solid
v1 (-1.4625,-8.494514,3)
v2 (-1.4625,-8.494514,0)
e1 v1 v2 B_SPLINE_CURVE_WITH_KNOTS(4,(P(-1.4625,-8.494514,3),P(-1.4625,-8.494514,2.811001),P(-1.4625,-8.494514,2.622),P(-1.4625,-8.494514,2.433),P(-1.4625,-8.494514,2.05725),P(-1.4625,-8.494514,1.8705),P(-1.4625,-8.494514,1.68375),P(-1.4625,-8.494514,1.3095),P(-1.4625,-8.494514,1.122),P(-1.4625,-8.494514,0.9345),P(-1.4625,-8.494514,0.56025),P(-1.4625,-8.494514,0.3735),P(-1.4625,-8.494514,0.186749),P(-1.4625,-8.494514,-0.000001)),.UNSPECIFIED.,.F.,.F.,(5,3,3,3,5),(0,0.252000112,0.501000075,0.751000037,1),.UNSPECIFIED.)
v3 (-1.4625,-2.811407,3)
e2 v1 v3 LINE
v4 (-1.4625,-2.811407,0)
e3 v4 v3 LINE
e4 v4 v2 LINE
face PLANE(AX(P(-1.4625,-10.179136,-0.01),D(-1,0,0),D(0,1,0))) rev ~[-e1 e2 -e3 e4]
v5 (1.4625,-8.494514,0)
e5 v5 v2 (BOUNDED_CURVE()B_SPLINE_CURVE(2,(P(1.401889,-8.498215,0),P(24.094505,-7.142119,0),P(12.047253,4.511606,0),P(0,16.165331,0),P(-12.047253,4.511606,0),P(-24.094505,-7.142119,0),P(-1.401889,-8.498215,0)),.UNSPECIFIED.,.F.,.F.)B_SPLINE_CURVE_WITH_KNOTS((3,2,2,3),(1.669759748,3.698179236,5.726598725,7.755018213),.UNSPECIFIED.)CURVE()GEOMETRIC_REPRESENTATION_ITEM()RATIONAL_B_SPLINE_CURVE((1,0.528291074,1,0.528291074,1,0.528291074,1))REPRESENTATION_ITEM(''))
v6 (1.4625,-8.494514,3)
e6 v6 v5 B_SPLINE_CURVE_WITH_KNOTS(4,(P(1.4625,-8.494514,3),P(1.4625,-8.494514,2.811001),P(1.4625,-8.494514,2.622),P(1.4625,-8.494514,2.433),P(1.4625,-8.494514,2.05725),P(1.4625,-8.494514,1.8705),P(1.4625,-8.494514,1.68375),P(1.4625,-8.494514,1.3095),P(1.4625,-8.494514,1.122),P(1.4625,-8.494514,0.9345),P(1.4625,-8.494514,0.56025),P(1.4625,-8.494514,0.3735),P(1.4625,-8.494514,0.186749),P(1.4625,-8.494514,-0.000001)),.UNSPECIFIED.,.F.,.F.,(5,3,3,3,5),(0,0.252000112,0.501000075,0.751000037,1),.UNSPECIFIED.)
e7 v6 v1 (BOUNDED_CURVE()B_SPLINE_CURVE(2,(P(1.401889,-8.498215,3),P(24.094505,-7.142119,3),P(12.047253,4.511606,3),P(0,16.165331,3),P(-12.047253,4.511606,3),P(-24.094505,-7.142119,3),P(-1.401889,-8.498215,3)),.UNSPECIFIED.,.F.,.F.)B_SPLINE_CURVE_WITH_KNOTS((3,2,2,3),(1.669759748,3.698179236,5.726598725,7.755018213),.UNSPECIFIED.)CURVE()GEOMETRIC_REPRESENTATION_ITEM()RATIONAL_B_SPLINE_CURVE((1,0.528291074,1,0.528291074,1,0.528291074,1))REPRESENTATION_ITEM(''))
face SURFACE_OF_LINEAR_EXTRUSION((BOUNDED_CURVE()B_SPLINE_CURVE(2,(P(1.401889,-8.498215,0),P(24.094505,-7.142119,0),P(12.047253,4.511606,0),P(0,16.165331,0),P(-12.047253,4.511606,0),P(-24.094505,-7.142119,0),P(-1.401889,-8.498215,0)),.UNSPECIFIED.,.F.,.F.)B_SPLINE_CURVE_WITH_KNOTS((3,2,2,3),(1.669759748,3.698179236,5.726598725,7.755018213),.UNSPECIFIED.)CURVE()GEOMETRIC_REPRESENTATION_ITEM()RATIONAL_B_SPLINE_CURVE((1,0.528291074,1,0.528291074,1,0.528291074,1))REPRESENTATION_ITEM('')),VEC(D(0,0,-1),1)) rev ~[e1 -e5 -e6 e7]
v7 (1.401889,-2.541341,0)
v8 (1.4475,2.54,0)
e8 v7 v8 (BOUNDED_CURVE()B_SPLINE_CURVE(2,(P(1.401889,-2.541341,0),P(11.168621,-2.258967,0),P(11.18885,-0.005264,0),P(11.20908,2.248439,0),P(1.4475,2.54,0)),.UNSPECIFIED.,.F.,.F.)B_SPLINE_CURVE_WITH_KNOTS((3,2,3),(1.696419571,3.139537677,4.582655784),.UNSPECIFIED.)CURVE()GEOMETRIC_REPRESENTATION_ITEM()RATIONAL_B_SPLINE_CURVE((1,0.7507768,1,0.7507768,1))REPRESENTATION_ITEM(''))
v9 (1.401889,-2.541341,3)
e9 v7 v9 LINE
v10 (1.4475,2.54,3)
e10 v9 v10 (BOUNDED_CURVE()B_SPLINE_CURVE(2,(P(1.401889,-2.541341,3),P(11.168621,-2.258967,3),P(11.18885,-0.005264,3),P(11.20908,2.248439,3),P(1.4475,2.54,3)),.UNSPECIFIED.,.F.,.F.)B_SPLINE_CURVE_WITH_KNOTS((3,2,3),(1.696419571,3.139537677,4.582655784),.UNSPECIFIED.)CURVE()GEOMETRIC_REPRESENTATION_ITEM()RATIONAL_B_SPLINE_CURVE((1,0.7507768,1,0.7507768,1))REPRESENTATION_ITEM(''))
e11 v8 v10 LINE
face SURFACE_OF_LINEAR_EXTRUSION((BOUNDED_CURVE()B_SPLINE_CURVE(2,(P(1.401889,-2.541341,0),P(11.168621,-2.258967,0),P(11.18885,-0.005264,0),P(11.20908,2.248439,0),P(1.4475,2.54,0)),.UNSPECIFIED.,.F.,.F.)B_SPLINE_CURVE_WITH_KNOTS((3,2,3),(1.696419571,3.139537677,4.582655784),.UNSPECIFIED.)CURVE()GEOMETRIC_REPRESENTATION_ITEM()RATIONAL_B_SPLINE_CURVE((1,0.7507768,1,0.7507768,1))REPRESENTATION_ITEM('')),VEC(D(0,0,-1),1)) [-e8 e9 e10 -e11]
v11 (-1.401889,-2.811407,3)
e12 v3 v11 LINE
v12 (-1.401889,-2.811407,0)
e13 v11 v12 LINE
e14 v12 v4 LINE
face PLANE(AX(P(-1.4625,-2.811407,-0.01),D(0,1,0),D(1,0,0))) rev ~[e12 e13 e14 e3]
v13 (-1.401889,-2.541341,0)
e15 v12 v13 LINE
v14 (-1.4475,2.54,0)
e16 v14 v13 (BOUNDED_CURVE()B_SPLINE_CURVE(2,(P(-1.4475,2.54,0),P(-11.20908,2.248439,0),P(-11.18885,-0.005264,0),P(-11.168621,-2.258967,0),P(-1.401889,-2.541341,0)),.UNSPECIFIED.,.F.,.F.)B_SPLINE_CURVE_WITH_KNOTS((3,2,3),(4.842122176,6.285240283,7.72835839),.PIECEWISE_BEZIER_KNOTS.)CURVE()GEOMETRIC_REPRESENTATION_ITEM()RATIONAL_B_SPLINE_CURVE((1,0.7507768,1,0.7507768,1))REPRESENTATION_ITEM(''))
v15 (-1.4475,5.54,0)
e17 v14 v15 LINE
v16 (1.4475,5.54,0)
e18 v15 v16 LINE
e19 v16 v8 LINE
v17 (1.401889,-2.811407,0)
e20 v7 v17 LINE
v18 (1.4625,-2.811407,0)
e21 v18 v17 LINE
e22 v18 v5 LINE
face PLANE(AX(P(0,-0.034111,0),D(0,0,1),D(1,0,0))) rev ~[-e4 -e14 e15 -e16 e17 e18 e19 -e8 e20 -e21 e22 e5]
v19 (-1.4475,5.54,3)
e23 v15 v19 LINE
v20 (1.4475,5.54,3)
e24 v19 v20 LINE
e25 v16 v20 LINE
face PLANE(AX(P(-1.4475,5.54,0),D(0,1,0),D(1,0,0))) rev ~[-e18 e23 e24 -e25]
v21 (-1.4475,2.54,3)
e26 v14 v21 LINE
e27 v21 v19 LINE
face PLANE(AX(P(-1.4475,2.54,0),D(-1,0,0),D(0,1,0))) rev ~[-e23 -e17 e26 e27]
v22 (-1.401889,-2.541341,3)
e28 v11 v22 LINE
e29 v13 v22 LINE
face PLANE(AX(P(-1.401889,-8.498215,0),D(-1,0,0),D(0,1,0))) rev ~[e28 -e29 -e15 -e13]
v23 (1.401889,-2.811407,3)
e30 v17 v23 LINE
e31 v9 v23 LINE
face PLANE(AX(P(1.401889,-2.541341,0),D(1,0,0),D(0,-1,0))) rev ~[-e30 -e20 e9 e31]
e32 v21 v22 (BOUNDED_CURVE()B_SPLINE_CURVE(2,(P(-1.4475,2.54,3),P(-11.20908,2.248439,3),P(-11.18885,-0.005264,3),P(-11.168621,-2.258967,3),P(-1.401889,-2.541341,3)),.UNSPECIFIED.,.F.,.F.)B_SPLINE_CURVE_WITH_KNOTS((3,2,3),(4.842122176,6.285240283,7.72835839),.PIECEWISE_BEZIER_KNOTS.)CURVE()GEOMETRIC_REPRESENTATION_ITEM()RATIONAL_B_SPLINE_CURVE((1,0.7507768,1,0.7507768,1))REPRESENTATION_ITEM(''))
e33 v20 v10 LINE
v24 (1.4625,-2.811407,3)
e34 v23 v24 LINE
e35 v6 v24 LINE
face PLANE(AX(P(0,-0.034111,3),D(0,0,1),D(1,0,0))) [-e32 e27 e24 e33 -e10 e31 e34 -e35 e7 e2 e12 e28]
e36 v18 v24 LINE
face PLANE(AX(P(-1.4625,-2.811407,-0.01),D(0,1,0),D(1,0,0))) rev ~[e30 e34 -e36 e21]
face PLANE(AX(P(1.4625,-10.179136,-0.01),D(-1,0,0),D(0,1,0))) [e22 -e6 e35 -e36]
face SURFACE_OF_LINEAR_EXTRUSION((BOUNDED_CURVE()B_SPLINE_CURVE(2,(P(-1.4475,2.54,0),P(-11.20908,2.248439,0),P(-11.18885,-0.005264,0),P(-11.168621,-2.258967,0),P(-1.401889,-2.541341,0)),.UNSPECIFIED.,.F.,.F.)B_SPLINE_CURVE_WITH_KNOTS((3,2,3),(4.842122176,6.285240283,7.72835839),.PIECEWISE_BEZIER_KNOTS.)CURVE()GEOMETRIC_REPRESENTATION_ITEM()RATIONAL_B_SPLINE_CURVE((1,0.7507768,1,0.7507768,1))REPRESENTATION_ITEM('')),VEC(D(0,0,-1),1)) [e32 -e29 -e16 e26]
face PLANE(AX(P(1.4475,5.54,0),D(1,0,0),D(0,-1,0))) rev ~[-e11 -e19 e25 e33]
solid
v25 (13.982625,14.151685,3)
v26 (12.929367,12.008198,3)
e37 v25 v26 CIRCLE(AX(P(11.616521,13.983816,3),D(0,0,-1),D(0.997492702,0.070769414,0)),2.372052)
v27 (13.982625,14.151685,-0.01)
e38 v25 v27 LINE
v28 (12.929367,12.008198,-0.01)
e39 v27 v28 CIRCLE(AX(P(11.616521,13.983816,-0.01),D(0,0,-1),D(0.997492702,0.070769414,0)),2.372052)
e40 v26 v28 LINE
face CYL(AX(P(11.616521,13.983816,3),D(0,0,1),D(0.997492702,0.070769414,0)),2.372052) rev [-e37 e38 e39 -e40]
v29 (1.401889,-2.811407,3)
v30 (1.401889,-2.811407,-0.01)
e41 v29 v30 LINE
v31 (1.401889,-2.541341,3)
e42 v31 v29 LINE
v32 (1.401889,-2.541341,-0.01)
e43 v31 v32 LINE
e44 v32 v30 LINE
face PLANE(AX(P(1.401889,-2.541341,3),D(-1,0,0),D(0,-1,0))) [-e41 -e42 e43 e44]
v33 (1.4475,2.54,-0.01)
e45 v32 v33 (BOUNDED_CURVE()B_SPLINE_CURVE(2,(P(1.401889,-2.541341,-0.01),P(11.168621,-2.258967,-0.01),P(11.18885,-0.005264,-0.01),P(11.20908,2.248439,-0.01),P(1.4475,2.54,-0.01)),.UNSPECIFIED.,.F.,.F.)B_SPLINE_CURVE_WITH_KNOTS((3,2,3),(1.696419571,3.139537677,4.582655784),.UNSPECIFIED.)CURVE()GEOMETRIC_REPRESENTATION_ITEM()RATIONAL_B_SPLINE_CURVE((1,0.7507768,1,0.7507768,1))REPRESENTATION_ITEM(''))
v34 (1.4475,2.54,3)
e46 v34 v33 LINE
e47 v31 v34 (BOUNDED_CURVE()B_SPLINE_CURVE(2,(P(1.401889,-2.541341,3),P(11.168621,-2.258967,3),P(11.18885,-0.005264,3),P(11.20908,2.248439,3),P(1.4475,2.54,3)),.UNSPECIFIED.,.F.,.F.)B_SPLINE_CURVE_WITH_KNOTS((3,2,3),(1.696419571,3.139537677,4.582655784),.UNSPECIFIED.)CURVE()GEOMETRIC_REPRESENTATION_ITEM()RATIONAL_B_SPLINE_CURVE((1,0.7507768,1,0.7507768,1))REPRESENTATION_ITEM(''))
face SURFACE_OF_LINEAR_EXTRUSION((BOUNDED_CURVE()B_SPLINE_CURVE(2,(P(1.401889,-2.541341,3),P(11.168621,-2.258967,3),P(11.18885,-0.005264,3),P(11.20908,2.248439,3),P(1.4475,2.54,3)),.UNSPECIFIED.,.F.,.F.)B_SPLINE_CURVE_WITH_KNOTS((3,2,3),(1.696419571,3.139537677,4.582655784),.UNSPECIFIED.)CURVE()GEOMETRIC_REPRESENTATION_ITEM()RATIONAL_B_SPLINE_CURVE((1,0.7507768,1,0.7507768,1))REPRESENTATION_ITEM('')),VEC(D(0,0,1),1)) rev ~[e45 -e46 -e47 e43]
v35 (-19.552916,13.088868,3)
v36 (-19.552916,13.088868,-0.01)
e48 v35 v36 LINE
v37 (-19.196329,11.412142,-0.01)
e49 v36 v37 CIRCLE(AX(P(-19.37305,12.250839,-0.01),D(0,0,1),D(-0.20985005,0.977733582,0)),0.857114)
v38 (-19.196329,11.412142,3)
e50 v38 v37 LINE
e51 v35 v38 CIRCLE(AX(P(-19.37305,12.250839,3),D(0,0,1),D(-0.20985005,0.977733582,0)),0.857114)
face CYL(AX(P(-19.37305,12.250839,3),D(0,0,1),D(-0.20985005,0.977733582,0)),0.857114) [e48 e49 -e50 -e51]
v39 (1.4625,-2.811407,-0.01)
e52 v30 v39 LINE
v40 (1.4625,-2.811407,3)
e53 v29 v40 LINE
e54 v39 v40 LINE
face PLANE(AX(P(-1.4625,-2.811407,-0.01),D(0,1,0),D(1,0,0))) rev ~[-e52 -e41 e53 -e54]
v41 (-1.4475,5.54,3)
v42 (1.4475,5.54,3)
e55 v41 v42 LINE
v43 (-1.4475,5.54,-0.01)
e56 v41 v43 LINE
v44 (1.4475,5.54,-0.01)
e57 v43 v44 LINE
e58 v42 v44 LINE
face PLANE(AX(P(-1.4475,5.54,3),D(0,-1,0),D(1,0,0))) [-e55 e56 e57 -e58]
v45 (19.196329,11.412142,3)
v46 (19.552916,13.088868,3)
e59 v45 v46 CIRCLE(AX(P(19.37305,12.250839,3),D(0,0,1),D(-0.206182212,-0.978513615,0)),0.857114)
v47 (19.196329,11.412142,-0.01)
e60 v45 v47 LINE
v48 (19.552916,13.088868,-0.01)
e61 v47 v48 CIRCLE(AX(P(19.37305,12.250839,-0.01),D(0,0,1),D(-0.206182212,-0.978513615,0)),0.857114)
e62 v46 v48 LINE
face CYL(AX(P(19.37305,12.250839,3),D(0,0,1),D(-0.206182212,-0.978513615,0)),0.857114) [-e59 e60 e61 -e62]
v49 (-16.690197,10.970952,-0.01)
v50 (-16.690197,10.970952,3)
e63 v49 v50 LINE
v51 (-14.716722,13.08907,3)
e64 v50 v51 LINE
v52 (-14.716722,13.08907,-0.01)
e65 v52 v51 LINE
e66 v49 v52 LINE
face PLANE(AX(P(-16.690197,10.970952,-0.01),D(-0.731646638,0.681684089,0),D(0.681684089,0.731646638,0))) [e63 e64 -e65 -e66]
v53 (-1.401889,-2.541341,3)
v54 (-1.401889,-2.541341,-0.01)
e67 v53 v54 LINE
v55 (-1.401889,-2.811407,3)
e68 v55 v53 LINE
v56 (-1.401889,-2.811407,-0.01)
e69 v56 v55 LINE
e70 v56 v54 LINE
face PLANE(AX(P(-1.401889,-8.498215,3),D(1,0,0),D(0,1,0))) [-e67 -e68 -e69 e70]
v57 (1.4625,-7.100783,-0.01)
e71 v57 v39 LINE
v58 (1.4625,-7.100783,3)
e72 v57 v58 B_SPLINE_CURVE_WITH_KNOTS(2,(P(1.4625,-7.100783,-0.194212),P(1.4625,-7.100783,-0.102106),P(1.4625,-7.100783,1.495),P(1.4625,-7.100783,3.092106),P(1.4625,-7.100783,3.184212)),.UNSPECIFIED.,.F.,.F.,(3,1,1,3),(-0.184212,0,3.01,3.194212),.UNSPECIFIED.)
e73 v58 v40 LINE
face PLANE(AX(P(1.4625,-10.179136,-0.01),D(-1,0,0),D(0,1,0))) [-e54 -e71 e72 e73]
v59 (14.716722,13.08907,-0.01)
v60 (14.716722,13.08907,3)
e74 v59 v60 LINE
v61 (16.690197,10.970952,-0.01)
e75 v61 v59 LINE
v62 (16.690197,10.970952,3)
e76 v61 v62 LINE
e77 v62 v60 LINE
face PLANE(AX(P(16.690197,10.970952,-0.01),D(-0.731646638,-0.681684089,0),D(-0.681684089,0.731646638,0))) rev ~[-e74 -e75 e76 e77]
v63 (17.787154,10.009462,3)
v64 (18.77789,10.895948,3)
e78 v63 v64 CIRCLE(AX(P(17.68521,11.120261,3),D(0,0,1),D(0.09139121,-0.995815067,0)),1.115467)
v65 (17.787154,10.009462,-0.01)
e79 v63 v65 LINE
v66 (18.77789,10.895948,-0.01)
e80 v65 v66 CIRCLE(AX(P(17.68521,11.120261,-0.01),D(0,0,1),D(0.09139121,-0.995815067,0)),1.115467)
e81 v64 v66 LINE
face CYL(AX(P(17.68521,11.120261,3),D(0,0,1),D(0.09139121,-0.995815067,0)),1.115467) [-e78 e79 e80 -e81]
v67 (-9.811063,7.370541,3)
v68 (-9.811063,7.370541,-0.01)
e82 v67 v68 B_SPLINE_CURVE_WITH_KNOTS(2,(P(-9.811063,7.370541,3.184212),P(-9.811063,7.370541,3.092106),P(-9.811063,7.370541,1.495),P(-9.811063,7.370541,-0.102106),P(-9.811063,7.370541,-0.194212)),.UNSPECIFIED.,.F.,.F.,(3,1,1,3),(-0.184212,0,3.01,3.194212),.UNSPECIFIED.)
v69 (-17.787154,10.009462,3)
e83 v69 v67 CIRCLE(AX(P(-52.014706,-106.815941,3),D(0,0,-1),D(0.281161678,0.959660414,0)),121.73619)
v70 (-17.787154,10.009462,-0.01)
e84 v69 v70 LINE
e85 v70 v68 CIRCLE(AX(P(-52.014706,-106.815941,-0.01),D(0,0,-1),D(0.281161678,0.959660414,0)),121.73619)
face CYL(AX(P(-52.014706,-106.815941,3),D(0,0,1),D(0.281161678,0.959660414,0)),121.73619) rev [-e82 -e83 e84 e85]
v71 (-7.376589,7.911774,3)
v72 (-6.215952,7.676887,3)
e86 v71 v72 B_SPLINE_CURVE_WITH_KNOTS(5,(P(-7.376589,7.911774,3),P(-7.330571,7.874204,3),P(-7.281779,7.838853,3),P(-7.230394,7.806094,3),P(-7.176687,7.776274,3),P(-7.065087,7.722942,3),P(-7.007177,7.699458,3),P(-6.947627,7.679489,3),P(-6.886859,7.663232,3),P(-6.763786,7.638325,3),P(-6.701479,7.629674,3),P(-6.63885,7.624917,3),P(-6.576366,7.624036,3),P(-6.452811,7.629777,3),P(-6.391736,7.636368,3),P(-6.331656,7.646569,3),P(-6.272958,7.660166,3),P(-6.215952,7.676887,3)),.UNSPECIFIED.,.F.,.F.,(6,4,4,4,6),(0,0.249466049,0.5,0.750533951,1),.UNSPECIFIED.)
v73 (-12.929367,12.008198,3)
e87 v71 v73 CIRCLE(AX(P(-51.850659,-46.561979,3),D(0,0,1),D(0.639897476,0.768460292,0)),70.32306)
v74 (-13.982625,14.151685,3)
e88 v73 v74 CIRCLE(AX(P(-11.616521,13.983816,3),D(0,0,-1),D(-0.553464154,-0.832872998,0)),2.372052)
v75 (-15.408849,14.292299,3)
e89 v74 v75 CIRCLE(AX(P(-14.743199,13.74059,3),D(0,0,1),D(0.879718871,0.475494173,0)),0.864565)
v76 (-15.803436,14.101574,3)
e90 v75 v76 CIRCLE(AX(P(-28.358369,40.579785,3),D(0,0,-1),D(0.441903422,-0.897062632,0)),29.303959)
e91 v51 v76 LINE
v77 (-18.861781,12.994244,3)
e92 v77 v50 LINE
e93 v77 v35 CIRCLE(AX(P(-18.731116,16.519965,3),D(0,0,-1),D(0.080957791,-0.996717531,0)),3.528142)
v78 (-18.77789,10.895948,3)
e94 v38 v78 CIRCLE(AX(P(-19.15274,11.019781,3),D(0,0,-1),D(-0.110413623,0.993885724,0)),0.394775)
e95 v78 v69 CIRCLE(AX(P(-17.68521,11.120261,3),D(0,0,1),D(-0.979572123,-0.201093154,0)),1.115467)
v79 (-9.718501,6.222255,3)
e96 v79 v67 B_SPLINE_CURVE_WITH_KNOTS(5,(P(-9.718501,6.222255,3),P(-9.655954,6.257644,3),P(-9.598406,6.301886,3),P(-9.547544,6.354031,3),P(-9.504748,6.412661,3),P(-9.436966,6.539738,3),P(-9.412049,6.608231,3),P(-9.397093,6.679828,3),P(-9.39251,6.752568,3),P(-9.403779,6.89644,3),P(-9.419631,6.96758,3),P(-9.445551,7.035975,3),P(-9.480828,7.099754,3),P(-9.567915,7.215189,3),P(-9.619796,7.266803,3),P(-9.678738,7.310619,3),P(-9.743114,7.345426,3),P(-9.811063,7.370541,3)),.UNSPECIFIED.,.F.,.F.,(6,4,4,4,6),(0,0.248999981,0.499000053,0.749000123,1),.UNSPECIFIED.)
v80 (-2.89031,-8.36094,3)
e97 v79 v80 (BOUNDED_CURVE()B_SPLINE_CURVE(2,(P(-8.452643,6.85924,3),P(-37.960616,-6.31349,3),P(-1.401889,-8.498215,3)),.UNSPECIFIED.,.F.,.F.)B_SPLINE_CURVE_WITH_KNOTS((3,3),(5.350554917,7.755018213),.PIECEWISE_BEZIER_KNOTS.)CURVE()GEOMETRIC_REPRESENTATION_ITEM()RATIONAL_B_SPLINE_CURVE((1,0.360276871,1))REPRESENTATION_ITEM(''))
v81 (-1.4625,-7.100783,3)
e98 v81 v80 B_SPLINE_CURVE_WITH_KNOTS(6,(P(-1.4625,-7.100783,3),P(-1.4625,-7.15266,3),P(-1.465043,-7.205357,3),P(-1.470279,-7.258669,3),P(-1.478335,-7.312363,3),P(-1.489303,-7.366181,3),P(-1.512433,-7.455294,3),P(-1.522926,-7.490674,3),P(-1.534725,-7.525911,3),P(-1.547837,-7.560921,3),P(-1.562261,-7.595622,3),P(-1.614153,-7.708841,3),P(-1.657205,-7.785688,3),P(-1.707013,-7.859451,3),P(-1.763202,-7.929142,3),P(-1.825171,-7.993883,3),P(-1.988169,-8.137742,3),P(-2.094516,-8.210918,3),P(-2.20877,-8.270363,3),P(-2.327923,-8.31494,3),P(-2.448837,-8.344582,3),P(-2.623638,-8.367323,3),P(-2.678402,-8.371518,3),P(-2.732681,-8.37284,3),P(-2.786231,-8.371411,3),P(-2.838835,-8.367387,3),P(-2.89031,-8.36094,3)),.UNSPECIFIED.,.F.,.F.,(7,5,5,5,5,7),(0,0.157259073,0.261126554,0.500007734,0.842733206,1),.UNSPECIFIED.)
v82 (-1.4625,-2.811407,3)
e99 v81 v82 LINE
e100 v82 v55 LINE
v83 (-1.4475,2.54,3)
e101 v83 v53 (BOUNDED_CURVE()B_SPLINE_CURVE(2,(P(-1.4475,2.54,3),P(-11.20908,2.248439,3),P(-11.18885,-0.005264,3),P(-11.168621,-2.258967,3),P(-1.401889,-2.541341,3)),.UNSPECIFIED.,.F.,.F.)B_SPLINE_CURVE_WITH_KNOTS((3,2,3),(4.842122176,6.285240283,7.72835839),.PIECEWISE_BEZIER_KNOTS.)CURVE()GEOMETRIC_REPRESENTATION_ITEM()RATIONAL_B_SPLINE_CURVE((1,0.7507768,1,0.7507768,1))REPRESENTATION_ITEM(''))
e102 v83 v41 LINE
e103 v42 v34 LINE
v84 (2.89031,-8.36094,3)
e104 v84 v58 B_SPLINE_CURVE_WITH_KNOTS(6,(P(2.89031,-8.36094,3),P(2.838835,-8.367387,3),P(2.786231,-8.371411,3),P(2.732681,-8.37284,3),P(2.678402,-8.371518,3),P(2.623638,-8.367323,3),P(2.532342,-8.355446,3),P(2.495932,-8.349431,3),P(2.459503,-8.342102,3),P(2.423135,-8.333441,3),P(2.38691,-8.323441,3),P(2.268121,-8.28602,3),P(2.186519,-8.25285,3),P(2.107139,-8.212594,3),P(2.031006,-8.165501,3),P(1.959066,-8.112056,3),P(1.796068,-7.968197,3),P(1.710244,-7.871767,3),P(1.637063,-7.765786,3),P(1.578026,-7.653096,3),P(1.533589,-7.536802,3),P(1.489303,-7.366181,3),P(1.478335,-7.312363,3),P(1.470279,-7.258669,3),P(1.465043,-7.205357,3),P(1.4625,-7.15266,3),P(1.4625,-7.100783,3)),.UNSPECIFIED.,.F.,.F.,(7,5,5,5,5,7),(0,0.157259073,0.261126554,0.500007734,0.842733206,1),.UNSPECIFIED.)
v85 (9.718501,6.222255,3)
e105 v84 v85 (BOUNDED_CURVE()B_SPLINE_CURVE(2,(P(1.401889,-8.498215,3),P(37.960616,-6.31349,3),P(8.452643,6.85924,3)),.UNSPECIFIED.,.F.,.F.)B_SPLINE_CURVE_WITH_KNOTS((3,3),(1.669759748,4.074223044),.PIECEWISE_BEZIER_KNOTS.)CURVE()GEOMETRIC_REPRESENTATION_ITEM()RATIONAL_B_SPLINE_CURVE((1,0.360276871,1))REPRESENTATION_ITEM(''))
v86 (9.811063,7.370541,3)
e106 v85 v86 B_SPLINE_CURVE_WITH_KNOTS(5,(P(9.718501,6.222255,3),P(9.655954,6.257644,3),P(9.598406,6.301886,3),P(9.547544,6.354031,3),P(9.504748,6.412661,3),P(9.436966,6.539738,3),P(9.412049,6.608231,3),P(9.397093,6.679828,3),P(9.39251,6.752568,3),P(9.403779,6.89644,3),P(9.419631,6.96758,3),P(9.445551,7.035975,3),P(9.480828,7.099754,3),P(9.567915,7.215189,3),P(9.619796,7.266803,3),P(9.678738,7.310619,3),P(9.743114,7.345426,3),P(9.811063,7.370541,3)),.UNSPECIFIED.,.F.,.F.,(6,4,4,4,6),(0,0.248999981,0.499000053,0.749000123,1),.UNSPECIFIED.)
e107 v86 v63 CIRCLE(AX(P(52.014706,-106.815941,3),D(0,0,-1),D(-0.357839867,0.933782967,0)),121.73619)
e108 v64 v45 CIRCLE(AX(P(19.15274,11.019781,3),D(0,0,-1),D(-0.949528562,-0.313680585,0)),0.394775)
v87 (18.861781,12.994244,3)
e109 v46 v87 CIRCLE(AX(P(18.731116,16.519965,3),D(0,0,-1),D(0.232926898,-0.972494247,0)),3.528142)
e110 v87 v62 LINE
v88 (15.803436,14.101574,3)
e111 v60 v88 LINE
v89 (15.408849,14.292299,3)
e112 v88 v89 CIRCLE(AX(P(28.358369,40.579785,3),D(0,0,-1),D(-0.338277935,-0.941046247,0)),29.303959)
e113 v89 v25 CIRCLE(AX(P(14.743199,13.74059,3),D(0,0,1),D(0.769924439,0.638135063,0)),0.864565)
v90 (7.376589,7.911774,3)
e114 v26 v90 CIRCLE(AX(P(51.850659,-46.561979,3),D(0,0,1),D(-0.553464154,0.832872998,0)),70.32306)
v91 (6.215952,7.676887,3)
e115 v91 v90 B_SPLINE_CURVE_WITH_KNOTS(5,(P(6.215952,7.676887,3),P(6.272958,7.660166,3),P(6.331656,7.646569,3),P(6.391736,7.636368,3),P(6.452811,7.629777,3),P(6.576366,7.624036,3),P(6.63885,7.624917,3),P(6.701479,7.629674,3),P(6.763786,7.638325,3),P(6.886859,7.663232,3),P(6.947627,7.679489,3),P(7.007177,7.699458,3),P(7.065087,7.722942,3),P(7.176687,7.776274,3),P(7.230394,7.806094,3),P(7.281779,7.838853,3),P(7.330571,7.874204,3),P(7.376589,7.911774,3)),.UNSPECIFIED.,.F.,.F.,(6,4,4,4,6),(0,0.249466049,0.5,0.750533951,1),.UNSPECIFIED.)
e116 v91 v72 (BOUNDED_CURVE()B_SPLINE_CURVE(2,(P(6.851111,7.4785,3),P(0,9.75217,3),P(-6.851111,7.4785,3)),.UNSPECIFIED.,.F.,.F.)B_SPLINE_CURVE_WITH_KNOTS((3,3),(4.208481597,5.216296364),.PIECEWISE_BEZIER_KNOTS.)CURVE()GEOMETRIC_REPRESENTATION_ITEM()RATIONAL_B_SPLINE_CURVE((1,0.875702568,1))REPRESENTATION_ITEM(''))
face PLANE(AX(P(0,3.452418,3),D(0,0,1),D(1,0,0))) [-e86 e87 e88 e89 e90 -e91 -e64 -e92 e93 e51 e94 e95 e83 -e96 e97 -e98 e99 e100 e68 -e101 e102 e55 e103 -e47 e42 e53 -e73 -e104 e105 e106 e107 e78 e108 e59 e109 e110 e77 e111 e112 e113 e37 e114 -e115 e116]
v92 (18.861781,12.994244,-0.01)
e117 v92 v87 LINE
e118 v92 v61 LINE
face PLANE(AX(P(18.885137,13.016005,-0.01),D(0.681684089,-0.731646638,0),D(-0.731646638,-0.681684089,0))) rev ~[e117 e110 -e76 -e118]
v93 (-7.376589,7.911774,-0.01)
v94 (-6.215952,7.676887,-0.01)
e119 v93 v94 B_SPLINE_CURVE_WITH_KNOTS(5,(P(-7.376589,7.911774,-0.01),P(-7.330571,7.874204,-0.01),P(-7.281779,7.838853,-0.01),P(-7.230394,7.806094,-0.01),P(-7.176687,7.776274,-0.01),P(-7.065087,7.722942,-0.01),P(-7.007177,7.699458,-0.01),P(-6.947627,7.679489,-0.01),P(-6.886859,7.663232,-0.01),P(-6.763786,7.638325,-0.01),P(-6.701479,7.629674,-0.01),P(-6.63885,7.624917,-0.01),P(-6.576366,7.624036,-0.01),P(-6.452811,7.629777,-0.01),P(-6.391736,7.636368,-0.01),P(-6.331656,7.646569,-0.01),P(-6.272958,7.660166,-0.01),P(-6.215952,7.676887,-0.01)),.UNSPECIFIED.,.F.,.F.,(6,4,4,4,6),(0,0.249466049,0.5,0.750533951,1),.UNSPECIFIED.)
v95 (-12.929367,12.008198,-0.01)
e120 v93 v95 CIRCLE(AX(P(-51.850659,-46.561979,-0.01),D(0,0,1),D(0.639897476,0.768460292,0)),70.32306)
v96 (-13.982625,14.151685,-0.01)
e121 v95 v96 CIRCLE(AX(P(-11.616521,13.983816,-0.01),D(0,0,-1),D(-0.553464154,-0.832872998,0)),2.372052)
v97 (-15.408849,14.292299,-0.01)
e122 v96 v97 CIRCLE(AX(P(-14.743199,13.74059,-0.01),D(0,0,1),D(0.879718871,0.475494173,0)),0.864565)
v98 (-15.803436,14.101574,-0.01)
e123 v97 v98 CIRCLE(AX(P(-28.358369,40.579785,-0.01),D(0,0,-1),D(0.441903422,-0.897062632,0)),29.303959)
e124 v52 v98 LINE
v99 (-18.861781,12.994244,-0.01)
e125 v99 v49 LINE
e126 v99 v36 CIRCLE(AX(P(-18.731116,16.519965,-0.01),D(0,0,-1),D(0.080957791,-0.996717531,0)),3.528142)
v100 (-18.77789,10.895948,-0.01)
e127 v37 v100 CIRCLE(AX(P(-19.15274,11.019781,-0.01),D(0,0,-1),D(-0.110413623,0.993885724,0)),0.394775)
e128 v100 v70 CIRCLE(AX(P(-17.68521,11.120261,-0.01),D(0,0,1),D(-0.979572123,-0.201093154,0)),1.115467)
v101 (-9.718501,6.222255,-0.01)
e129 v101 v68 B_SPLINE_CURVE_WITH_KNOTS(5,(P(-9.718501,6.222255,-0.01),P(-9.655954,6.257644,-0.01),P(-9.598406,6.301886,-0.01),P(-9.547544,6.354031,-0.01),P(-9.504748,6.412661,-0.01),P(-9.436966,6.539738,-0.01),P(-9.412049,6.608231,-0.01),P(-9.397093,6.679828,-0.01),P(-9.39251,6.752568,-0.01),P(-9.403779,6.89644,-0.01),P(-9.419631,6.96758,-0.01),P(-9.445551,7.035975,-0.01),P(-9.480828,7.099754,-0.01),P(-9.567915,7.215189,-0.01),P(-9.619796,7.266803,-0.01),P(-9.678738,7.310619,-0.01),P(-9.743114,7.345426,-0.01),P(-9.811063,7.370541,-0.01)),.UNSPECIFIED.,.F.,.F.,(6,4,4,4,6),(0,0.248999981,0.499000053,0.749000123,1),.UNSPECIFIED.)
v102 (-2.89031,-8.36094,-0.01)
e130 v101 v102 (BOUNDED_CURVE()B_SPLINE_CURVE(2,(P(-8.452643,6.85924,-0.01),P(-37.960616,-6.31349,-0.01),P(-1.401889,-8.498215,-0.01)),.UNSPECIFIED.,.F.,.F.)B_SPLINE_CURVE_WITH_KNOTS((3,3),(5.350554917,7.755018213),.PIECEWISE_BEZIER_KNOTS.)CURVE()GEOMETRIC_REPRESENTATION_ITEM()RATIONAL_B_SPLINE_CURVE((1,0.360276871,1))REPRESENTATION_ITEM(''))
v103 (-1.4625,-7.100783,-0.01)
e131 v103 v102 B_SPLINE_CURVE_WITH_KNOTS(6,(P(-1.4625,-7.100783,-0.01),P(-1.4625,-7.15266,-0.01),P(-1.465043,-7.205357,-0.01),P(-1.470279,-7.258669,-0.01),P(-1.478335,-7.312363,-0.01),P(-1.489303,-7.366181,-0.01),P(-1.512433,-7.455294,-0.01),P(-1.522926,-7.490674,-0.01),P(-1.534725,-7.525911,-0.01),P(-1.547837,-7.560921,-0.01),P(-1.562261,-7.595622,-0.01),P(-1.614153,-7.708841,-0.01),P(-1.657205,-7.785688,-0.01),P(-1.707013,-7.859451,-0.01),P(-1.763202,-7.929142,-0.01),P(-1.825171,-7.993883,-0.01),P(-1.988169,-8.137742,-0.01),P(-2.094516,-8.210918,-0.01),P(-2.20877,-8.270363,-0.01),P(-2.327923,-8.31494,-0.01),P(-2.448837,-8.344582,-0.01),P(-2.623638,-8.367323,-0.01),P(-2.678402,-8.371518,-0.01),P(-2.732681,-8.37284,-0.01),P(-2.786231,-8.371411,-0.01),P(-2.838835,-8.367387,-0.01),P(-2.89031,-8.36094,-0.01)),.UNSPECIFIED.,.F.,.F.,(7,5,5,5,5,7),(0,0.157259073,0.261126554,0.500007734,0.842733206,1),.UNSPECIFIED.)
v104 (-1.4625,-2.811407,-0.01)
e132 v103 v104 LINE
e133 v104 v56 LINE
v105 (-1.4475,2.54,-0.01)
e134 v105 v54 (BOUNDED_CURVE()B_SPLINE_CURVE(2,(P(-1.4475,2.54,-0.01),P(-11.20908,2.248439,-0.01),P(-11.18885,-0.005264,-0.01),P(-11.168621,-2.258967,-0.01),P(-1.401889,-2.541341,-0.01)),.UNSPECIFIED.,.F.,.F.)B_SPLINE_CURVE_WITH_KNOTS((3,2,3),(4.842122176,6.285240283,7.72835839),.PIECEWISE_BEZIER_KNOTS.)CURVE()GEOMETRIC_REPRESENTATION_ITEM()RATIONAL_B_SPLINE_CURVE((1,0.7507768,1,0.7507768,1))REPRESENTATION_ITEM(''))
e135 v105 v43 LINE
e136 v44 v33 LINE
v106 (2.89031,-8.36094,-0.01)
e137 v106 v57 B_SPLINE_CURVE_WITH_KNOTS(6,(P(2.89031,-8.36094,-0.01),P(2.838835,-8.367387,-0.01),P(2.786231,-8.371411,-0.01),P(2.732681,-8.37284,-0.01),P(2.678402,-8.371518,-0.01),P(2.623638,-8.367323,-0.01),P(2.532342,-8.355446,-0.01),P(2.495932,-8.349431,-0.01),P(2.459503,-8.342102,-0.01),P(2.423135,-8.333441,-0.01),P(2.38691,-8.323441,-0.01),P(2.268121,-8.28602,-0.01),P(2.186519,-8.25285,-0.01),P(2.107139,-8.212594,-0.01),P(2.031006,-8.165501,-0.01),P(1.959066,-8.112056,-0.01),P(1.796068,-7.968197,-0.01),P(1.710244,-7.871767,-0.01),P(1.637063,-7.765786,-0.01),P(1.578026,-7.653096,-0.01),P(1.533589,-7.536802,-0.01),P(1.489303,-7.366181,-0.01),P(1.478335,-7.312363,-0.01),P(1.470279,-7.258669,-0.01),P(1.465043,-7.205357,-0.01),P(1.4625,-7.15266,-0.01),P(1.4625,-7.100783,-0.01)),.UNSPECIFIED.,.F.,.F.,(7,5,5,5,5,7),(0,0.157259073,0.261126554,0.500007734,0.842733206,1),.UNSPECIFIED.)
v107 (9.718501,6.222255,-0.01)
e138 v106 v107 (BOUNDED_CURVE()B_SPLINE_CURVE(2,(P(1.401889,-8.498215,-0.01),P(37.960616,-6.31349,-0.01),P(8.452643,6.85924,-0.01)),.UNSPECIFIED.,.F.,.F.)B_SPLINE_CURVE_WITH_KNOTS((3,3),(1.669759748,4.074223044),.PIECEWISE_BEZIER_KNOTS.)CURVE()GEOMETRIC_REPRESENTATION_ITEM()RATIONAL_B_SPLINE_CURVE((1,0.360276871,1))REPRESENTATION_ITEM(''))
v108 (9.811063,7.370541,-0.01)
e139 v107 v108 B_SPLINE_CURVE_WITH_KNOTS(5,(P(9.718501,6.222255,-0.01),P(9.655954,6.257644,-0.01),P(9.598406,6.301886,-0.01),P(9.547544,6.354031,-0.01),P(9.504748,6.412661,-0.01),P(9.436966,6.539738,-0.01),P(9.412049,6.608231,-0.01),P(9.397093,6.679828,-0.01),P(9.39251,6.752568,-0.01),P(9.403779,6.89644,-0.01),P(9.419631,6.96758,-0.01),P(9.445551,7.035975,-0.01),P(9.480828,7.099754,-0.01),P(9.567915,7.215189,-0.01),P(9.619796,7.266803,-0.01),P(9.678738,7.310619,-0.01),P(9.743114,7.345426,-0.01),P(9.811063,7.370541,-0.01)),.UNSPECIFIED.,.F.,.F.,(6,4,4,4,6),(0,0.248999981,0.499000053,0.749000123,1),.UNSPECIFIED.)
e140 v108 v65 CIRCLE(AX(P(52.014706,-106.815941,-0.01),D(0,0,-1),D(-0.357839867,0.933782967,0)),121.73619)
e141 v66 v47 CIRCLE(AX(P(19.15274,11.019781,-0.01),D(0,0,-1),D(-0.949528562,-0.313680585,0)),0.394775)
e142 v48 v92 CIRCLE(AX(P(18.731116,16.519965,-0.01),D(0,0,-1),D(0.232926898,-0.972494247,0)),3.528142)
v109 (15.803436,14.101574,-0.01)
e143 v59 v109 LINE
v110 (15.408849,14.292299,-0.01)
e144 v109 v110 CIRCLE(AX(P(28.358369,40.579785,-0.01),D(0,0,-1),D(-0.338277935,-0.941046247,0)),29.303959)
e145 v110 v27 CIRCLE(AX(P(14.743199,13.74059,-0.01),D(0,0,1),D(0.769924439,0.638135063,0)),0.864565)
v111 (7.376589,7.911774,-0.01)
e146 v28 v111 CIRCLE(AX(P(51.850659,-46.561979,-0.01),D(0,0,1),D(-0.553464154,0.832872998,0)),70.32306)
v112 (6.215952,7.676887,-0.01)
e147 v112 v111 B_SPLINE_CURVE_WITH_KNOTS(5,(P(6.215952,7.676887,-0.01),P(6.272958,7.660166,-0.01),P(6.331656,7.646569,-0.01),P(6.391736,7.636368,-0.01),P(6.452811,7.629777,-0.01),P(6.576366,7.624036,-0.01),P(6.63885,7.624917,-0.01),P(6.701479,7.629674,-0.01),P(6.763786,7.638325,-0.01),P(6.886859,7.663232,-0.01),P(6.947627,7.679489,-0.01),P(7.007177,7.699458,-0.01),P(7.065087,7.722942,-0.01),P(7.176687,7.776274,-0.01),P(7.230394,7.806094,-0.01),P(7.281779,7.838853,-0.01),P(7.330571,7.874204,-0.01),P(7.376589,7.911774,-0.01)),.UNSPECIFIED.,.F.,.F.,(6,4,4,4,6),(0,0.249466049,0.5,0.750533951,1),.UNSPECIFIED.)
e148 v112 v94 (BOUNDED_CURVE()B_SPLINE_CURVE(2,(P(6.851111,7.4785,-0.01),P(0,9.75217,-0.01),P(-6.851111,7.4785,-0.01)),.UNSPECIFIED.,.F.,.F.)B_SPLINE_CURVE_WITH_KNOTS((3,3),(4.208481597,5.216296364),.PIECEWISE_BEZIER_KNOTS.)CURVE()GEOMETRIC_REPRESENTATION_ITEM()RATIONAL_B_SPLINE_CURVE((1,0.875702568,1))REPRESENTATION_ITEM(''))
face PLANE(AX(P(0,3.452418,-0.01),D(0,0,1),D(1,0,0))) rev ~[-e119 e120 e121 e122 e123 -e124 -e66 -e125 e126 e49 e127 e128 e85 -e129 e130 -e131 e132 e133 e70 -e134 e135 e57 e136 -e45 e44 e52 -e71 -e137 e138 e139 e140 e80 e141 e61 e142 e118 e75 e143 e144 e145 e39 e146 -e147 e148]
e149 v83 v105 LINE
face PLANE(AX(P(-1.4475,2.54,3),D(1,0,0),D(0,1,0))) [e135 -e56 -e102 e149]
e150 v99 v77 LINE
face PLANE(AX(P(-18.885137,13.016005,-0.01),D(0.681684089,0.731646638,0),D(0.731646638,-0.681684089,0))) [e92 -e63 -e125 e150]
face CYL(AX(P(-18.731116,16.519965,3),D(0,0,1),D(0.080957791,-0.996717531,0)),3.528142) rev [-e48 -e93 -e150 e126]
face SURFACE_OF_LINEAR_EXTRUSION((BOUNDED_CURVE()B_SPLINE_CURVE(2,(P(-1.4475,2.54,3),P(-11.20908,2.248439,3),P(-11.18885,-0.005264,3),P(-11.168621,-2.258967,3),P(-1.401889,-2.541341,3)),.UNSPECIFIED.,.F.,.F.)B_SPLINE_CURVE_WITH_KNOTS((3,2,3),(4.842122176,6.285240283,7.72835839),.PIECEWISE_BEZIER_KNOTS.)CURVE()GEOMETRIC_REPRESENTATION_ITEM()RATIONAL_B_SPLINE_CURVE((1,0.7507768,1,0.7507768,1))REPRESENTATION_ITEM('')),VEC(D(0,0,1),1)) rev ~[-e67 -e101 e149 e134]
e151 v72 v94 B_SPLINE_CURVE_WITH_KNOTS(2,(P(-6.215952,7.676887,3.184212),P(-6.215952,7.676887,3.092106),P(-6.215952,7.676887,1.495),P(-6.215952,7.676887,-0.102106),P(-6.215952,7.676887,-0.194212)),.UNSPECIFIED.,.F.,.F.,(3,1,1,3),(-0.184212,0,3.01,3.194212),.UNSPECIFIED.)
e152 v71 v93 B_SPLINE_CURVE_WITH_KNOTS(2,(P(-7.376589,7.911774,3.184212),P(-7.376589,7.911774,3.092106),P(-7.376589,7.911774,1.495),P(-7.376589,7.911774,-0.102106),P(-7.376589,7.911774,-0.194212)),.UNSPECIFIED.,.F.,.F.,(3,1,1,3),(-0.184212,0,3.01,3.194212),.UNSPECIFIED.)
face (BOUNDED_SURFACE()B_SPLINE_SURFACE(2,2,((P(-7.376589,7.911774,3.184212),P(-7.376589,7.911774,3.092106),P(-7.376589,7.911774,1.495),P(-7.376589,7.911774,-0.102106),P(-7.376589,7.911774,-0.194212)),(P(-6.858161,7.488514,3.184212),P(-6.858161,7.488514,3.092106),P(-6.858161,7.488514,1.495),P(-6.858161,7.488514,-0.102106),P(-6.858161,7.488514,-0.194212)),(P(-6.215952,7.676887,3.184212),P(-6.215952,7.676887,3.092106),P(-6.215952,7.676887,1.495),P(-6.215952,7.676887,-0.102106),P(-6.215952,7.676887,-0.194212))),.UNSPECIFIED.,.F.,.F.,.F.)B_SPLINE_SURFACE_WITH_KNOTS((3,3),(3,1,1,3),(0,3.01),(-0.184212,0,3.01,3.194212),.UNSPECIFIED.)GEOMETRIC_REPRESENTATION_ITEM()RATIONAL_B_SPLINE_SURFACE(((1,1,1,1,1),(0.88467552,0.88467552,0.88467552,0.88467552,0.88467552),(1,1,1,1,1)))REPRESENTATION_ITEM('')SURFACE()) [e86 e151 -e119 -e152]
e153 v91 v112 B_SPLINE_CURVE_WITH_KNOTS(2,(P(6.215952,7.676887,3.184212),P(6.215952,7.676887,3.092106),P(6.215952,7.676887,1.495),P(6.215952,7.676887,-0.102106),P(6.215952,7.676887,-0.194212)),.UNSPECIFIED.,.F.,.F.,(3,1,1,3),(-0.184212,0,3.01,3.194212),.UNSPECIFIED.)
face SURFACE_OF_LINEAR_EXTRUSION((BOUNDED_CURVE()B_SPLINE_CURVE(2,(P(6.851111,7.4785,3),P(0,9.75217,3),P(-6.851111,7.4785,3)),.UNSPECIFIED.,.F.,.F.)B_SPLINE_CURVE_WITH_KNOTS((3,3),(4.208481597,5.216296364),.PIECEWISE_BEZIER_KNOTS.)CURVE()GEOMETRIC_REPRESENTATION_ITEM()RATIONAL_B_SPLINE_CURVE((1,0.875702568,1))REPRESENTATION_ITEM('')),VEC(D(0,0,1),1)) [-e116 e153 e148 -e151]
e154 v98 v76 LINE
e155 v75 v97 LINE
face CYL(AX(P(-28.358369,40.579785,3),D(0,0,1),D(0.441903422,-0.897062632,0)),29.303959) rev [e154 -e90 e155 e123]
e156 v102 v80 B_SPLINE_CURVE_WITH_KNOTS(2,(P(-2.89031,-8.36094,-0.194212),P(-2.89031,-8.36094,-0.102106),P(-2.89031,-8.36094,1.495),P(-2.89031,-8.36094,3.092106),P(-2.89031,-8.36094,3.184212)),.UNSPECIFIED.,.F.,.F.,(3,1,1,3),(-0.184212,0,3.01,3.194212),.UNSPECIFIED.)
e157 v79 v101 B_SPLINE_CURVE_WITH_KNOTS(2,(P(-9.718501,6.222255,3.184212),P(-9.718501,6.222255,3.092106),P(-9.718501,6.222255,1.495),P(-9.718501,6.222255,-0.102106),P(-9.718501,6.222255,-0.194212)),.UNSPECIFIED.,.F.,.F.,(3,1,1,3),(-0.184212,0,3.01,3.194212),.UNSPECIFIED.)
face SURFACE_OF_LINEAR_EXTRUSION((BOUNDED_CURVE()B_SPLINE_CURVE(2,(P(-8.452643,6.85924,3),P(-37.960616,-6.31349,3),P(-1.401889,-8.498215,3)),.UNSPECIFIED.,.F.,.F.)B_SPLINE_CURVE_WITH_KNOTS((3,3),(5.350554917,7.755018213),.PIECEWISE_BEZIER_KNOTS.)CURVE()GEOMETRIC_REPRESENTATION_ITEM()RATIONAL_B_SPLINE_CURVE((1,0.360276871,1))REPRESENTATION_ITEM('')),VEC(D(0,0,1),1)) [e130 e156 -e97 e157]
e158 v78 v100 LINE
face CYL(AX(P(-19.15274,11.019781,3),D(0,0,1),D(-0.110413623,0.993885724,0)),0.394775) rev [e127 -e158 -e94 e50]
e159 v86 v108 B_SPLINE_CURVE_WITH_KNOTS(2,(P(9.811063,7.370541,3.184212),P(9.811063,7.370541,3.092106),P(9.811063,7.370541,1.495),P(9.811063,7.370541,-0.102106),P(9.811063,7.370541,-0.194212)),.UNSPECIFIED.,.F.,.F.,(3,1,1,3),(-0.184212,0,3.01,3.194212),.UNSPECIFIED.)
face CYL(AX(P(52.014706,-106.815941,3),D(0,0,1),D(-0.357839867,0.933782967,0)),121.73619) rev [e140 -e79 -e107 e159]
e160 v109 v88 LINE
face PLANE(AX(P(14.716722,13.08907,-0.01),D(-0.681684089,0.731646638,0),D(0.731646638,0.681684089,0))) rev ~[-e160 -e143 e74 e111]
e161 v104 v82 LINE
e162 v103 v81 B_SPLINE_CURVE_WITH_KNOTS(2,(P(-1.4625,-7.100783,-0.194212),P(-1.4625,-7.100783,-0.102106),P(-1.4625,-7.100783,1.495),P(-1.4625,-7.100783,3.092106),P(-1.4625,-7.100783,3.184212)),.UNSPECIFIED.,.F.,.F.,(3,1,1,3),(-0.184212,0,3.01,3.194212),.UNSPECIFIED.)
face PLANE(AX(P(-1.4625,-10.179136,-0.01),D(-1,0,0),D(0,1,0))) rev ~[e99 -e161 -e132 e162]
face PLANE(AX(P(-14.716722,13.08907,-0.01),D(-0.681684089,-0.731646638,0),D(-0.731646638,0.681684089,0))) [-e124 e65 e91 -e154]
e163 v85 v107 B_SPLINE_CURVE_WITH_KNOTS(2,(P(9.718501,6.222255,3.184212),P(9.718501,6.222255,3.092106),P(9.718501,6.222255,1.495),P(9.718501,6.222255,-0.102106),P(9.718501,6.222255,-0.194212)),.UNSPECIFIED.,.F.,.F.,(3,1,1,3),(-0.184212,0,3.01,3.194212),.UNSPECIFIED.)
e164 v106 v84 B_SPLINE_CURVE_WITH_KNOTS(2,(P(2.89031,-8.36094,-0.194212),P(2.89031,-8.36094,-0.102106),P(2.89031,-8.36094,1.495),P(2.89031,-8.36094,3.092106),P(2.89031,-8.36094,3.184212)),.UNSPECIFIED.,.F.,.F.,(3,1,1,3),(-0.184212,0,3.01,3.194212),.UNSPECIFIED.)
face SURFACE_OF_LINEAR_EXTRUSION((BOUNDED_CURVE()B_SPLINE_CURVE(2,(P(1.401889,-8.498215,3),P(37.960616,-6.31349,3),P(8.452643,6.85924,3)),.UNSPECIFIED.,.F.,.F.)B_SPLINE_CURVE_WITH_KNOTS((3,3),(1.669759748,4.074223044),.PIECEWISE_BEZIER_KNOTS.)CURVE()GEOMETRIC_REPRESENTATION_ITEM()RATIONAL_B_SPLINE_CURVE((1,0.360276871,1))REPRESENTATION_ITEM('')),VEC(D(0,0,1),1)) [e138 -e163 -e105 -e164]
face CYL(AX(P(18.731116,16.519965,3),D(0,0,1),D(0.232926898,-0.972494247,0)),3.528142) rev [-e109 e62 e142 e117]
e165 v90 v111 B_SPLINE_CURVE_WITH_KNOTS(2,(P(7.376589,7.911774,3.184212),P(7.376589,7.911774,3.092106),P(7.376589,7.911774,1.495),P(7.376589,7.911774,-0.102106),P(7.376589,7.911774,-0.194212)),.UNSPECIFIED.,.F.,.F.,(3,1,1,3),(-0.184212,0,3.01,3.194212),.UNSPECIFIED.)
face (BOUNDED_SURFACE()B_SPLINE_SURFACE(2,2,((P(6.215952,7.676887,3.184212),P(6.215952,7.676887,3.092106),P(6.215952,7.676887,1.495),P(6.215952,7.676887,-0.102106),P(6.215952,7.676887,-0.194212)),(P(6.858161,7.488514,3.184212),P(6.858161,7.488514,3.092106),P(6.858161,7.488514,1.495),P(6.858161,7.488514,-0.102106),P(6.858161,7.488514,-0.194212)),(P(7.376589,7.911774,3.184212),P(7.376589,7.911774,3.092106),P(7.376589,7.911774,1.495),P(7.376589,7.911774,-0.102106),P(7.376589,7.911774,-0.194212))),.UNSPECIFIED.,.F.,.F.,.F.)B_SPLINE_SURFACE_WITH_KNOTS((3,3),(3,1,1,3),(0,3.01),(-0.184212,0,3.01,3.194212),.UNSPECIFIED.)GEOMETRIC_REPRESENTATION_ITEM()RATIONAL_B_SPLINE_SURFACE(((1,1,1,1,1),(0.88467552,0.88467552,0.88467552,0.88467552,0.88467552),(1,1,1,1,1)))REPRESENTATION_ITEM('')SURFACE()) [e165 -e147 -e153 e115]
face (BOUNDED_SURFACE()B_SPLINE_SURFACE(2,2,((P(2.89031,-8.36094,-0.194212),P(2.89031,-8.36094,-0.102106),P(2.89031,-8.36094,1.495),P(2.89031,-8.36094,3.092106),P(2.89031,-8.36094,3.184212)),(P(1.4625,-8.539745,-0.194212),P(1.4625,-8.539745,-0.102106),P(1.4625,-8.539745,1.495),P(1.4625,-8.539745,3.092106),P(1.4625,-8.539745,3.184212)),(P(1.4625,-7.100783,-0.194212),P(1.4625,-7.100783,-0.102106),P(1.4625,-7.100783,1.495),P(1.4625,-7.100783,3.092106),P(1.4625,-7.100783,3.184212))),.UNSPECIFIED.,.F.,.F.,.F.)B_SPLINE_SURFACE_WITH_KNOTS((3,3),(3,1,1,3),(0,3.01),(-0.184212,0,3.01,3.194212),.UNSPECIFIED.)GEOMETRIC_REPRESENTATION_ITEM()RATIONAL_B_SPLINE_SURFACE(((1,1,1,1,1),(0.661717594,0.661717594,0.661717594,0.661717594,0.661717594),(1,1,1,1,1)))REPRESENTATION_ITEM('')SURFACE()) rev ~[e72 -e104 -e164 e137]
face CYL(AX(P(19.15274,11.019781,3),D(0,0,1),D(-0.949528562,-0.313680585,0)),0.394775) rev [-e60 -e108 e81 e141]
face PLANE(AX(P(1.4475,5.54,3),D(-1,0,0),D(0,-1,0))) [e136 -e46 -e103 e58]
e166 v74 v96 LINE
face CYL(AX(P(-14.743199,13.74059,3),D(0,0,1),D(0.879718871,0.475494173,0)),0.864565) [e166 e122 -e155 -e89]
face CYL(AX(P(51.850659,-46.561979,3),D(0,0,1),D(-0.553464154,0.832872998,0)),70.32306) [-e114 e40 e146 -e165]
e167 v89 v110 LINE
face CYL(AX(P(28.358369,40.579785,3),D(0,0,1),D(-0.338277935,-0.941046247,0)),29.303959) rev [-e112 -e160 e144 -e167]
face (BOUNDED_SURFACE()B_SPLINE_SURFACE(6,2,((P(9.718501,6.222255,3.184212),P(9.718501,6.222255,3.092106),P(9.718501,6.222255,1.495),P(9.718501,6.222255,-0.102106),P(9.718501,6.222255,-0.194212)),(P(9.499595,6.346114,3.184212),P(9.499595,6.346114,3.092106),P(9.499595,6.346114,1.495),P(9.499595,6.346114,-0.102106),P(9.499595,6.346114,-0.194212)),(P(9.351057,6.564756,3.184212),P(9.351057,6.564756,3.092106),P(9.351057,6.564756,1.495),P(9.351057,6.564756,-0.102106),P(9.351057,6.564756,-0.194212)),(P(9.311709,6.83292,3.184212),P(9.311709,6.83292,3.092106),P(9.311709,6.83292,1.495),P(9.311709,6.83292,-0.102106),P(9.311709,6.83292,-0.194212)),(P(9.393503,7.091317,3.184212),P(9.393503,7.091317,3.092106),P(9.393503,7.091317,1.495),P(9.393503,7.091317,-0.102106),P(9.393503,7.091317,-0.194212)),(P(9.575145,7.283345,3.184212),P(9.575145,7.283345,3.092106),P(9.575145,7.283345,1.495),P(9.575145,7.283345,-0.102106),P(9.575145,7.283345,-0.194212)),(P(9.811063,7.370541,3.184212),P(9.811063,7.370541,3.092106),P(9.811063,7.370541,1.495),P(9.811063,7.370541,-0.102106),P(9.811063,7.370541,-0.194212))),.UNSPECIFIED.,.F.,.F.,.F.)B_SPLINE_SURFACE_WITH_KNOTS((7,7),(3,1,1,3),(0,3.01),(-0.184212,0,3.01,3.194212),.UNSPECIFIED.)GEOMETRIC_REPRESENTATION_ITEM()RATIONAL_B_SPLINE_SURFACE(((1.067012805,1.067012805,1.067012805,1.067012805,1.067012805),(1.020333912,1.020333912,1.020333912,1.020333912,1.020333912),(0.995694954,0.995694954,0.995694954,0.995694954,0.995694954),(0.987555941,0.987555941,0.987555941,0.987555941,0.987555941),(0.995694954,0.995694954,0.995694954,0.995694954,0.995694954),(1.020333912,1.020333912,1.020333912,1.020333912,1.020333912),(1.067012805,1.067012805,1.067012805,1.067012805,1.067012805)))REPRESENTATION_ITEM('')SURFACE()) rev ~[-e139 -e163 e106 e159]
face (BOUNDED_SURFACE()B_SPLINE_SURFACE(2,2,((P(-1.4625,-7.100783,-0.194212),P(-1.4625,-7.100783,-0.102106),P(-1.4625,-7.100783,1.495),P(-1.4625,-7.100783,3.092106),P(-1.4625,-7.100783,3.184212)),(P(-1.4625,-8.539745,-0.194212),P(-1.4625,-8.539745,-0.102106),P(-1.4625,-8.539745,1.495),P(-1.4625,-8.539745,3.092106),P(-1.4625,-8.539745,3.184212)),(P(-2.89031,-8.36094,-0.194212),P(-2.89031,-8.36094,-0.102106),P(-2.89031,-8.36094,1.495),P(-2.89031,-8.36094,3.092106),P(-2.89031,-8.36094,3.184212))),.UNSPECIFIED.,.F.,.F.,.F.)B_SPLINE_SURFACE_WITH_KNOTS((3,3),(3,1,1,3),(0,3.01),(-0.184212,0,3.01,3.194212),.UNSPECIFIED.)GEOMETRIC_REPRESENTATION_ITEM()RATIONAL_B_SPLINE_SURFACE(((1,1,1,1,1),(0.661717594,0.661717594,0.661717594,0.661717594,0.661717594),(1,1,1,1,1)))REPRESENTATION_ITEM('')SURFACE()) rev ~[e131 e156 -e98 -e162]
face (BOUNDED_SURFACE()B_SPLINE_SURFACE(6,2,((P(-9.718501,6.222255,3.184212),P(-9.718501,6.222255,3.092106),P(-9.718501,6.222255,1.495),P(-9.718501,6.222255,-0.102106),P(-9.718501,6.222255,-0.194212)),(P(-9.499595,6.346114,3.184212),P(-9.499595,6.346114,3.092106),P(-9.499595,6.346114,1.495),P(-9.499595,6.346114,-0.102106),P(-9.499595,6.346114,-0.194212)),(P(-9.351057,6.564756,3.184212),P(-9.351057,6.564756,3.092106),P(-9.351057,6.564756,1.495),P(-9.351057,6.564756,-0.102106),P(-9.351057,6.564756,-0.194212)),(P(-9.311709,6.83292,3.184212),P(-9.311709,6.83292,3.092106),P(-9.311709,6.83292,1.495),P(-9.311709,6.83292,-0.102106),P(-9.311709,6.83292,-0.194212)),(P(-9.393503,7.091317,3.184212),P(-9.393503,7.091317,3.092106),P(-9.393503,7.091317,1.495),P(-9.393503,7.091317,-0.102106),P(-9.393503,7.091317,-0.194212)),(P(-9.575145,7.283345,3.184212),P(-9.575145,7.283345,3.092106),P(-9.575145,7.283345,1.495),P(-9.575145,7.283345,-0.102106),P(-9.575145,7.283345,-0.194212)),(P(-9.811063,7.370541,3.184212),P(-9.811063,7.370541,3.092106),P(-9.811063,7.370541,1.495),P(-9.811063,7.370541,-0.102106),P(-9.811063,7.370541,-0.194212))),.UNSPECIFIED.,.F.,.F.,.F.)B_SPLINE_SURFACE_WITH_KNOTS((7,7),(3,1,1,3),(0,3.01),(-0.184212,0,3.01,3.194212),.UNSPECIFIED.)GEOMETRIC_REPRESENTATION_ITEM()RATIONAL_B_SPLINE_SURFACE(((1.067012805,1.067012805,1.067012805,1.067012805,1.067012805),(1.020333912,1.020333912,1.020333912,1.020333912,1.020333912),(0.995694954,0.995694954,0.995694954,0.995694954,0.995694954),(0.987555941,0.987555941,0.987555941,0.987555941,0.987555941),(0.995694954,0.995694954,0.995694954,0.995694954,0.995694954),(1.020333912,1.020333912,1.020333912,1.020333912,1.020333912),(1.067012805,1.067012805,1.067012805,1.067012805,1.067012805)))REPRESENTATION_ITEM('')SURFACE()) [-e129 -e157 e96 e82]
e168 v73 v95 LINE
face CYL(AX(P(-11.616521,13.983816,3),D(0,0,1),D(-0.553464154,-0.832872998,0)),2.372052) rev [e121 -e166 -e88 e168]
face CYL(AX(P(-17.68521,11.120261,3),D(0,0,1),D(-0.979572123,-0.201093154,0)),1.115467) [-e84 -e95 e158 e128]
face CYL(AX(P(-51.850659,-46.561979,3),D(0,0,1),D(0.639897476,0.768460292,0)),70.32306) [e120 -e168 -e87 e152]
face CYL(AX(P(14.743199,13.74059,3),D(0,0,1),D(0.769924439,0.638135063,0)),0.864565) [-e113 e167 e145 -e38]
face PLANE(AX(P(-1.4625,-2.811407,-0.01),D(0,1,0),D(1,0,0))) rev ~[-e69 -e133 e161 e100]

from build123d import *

# Parameters (mm, degrees)
EXTRUDE_1_DEPTH     = 3
EXTRUDE_2_DEPTH     = 3.01
CUT_EXTRUDE_1_DEPTH = 3.01
CUT_EXTRUDE_START   = -3.01
SKETCH_5_W          = 2.925
SKETCH_5_H          = 7.367729242
CUT_EXTRUDE_2_DEPTH = 3.01
FILLET_1_R          = 1.27
FILLET_2_R          = 0.635


with BuildPart() as part:
    # 스케치1 → 보스-돌출1 (new body)
    with BuildSketch(Plane.XY):
        with BuildLine():
            Line((-1.4475, 2.54), (-1.4475, 5.54))
            Line((-1.4475, 5.54), (1.4475, 5.54))
            Line((1.4475, 5.54), (1.4475, 2.54))
            add(Edge.make_bspline(
                [(1.401888609, -2.541340514), (11.168620646, -2.258966545), (11.188850448, -0.005263871), (11.20908025, 2.248438804), (1.4475, 2.54)],
                knots=[1.696419571, 1.696419571, 1.696419571, 3.139537677, 3.139537677, 4.582655784, 4.582655784, 4.582655784], degree=2, weights=[1, 0.7507768, 1, 0.7507768, 1]))
            Line((1.401888609, -2.541340514), (1.401888609, -8.49821477))
            add(Edge.make_bspline(
                [(1.401888609, -8.49821477), (24.09450539, -7.142119328), (12.047252695, 4.511605769), (0, 16.165330867), (-12.047252695, 4.511605769), (-24.09450539, -7.142119328), (-1.401888609, -8.49821477)],
                knots=[1.669759748, 1.669759748, 1.669759748, 3.698179236, 3.698179236, 5.726598725, 5.726598725, 7.755018213, 7.755018213, 7.755018213], degree=2, weights=[1, 0.528291074, 1, 0.528291074, 1, 0.528291074, 1]))
            Line((-1.401888609, -8.49821477), (-1.401888609, -2.541340514))
            add(Edge.make_bspline(
                [(-1.4475, 2.54), (-11.20908025, 2.248438804), (-11.188850448, -0.005263871), (-11.168620646, -2.258966545), (-1.401888609, -2.541340514)],
                knots=[4.842122176, 4.842122176, 4.842122176, 6.285240283, 6.285240283, 7.72835839, 7.72835839, 7.72835839], degree=2, weights=[1, 0.7507768, 1, 0.7507768, 1]))
        make_face()
    extrude(amount=EXTRUDE_1_DEPTH)


with BuildPart() as body_2:
    # 스케치3 → 보스-돌출2 (new body)
    with BuildSketch(Plane.XY.offset(3)):
        with BuildLine():
            Line((1.4475, 5.54), (1.4475, 2.54))
            add(Edge.make_bspline(
                [(1.401888609, -2.541340514), (11.168620646, -2.258966545), (11.188850448, -0.005263871), (11.20908025, 2.248438804), (1.4475, 2.54)],
                knots=[1.696419571, 1.696419571, 1.696419571, 3.139537677, 3.139537677, 4.582655784, 4.582655784, 4.582655784], degree=2, weights=[1, 0.7507768, 1, 0.7507768, 1]))
            Line((1.401888609, -2.541340514), (1.401888609, -8.49821477))
            add(Edge.make_bspline(
                [(1.401888609, -8.49821477), (37.960615837, -6.313489939), (8.452643499, 6.85924006)],
                knots=[1.669759748, 1.669759748, 1.669759748, 4.074223044, 4.074223044, 4.074223044], degree=2, weights=[1, 0.360276871, 1]))
            ThreePointArc((8.452643499, 6.85924006), (13.088018456, 8.528816455), (17.78715406, 10.009461891))
            ThreePointArc((17.78715406, 10.009461891), (18.429015287, 10.288984292), (18.777890424, 10.895947839))
            ThreePointArc((18.777890424, 10.895947839), (18.846068424, 11.268375796), (19.196328594, 11.412141704))
            ThreePointArc((19.196328594, 11.412141704), (20.211414767, 12.072545317), (19.552915533, 13.088867918))
            ThreePointArc((19.552915533, 13.088867918), (19.002584974, 13.002283135), (18.445485889, 13.003404741))
            ThreePointArc((18.445485889, 13.003404741), (16.909016091, 13.605087239), (15.408848907, 14.292298771))
            ThreePointArc((15.408848907, 14.292298771), (14.65837183, 14.600982934), (13.982625364, 14.151685182))
            ThreePointArc((13.982625364, 14.151685182), (13.745441378, 12.937715208), (12.929366611, 12.008198498))
            ThreePointArc((12.929366611, 12.008198498), (9.829159643, 9.825309313), (6.851110926, 7.478499929))
            add(Edge.make_bspline(
                [(6.851110926, 7.478499929), (0, 9.752169645), (-6.851110926, 7.478499929)],
                knots=[4.208481597, 4.208481597, 4.208481597, 5.216296364, 5.216296364, 5.216296364], degree=2, weights=[1, 0.875702568, 1]))
            ThreePointArc((-6.851110926, 7.478499929), (-9.829159643, 9.825309313), (-12.929366611, 12.008198498))
            ThreePointArc((-12.929366611, 12.008198498), (-13.745441378, 12.937715208), (-13.982625364, 14.151685182))
            ThreePointArc((-13.982625364, 14.151685182), (-14.65837183, 14.600982934), (-15.408848907, 14.292298771))
            ThreePointArc((-15.408848907, 14.292298771), (-16.909016091, 13.605087239), (-18.445485889, 13.003404741))
            ThreePointArc((-18.445485889, 13.003404741), (-19.002584974, 13.002283135), (-19.552915533, 13.088867918))
            ThreePointArc((-19.552915533, 13.088867918), (-20.211414767, 12.072545317), (-19.196328594, 11.412141704))
            ThreePointArc((-19.196328594, 11.412141704), (-18.846068424, 11.268375796), (-18.777890424, 10.895947839))
            ThreePointArc((-18.777890424, 10.895947839), (-18.429015287, 10.288984292), (-17.78715406, 10.009461891))
            ThreePointArc((-17.78715406, 10.009461891), (-13.088018456, 8.528816455), (-8.452643499, 6.85924006))
            add(Edge.make_bspline(
                [(-8.452643499, 6.85924006), (-37.960615837, -6.313489939), (-1.401888609, -8.49821477)],
                knots=[5.350554917, 5.350554917, 5.350554917, 7.755018213, 7.755018213, 7.755018213], degree=2, weights=[1, 0.360276871, 1]))
            Line((-1.401888609, -8.49821477), (-1.401888609, -2.541340514))
            add(Edge.make_bspline(
                [(-1.4475, 2.54), (-11.20908025, 2.248438804), (-11.188850448, -0.005263871), (-11.168620646, -2.258966545), (-1.401888609, -2.541340514)],
                knots=[4.842122176, 4.842122176, 4.842122176, 6.285240283, 6.285240283, 7.72835839, 7.72835839, 7.72835839], degree=2, weights=[1, 0.7507768, 1, 0.7507768, 1]))
            Line((-1.4475, 2.54), (-1.4475, 5.54))
            Line((-1.4475, 5.54), (1.4475, 5.54))
        make_face()
    extrude(amount=-EXTRUDE_2_DEPTH)

    # 스케치4 → 컷-돌출1 (cut)
    with BuildSketch(Plane(origin=(0, 0, -0.01), x_dir=(-1, 0, 0), z_dir=(0, 0, -1))):
        Polygon((-16.690197045, 10.970952498), (-14.716721607, 13.089069515), (-16.911661522, 15.134121782), (-18.885136959, 13.016004764), align=None)
        Polygon((14.716721607, 13.089069515), (16.911661522, 15.134121782), (18.885136959, 13.016004764), (16.690197045, 10.970952498), align=None)
    extrude(amount=-CUT_EXTRUDE_1_DEPTH, mode=Mode.SUBTRACT)


with BuildPart() as cut_extrude_2_tool:
    # 스케치5 → 컷-돌출2 (new body)
    with BuildSketch(Plane.XY.offset(3).offset(CUT_EXTRUDE_START)):
        with Locations((0, -6.495271399)):
            Rectangle(SKETCH_5_W, SKETCH_5_H)
    extrude(amount=CUT_EXTRUDE_2_DEPTH)


with BuildPart() as part_1:
    add(part.part)

    # 컷-돌출2: cut by cut_extrude_2_tool
    add(cut_extrude_2_tool.part, mode=Mode.SUBTRACT)


with BuildPart() as body_2_1:
    add(body_2.part)

    # 컷-돌출2: cut by cut_extrude_2_tool
    add(cut_extrude_2_tool.part, mode=Mode.SUBTRACT)

    # 필렛1
    fillet_1_edges = [body_2_1.edges().sort_by_distance(p)[0] for p in [
        (-6.851110926, 7.478499929, 1.495),
        (6.851110926, 7.478499929, 1.495),
        (-1.4625, -8.494513567, 1.495),
        (1.4625, -8.494513567, 1.495),
    ]]
    fillet(fillet_1_edges, radius=FILLET_1_R)

    # 필렛2
    fillet_2_edges = [body_2_1.edges().sort_by_distance(p)[0] for p in [
        (8.452643499, 6.85924006, 1.495),
        (-8.452643499, 6.85924006, 1.495),
    ]]
    fillet(fillet_2_edges, radius=FILLET_2_R)


solid = Compound([part_1.part, body_2_1.part])
